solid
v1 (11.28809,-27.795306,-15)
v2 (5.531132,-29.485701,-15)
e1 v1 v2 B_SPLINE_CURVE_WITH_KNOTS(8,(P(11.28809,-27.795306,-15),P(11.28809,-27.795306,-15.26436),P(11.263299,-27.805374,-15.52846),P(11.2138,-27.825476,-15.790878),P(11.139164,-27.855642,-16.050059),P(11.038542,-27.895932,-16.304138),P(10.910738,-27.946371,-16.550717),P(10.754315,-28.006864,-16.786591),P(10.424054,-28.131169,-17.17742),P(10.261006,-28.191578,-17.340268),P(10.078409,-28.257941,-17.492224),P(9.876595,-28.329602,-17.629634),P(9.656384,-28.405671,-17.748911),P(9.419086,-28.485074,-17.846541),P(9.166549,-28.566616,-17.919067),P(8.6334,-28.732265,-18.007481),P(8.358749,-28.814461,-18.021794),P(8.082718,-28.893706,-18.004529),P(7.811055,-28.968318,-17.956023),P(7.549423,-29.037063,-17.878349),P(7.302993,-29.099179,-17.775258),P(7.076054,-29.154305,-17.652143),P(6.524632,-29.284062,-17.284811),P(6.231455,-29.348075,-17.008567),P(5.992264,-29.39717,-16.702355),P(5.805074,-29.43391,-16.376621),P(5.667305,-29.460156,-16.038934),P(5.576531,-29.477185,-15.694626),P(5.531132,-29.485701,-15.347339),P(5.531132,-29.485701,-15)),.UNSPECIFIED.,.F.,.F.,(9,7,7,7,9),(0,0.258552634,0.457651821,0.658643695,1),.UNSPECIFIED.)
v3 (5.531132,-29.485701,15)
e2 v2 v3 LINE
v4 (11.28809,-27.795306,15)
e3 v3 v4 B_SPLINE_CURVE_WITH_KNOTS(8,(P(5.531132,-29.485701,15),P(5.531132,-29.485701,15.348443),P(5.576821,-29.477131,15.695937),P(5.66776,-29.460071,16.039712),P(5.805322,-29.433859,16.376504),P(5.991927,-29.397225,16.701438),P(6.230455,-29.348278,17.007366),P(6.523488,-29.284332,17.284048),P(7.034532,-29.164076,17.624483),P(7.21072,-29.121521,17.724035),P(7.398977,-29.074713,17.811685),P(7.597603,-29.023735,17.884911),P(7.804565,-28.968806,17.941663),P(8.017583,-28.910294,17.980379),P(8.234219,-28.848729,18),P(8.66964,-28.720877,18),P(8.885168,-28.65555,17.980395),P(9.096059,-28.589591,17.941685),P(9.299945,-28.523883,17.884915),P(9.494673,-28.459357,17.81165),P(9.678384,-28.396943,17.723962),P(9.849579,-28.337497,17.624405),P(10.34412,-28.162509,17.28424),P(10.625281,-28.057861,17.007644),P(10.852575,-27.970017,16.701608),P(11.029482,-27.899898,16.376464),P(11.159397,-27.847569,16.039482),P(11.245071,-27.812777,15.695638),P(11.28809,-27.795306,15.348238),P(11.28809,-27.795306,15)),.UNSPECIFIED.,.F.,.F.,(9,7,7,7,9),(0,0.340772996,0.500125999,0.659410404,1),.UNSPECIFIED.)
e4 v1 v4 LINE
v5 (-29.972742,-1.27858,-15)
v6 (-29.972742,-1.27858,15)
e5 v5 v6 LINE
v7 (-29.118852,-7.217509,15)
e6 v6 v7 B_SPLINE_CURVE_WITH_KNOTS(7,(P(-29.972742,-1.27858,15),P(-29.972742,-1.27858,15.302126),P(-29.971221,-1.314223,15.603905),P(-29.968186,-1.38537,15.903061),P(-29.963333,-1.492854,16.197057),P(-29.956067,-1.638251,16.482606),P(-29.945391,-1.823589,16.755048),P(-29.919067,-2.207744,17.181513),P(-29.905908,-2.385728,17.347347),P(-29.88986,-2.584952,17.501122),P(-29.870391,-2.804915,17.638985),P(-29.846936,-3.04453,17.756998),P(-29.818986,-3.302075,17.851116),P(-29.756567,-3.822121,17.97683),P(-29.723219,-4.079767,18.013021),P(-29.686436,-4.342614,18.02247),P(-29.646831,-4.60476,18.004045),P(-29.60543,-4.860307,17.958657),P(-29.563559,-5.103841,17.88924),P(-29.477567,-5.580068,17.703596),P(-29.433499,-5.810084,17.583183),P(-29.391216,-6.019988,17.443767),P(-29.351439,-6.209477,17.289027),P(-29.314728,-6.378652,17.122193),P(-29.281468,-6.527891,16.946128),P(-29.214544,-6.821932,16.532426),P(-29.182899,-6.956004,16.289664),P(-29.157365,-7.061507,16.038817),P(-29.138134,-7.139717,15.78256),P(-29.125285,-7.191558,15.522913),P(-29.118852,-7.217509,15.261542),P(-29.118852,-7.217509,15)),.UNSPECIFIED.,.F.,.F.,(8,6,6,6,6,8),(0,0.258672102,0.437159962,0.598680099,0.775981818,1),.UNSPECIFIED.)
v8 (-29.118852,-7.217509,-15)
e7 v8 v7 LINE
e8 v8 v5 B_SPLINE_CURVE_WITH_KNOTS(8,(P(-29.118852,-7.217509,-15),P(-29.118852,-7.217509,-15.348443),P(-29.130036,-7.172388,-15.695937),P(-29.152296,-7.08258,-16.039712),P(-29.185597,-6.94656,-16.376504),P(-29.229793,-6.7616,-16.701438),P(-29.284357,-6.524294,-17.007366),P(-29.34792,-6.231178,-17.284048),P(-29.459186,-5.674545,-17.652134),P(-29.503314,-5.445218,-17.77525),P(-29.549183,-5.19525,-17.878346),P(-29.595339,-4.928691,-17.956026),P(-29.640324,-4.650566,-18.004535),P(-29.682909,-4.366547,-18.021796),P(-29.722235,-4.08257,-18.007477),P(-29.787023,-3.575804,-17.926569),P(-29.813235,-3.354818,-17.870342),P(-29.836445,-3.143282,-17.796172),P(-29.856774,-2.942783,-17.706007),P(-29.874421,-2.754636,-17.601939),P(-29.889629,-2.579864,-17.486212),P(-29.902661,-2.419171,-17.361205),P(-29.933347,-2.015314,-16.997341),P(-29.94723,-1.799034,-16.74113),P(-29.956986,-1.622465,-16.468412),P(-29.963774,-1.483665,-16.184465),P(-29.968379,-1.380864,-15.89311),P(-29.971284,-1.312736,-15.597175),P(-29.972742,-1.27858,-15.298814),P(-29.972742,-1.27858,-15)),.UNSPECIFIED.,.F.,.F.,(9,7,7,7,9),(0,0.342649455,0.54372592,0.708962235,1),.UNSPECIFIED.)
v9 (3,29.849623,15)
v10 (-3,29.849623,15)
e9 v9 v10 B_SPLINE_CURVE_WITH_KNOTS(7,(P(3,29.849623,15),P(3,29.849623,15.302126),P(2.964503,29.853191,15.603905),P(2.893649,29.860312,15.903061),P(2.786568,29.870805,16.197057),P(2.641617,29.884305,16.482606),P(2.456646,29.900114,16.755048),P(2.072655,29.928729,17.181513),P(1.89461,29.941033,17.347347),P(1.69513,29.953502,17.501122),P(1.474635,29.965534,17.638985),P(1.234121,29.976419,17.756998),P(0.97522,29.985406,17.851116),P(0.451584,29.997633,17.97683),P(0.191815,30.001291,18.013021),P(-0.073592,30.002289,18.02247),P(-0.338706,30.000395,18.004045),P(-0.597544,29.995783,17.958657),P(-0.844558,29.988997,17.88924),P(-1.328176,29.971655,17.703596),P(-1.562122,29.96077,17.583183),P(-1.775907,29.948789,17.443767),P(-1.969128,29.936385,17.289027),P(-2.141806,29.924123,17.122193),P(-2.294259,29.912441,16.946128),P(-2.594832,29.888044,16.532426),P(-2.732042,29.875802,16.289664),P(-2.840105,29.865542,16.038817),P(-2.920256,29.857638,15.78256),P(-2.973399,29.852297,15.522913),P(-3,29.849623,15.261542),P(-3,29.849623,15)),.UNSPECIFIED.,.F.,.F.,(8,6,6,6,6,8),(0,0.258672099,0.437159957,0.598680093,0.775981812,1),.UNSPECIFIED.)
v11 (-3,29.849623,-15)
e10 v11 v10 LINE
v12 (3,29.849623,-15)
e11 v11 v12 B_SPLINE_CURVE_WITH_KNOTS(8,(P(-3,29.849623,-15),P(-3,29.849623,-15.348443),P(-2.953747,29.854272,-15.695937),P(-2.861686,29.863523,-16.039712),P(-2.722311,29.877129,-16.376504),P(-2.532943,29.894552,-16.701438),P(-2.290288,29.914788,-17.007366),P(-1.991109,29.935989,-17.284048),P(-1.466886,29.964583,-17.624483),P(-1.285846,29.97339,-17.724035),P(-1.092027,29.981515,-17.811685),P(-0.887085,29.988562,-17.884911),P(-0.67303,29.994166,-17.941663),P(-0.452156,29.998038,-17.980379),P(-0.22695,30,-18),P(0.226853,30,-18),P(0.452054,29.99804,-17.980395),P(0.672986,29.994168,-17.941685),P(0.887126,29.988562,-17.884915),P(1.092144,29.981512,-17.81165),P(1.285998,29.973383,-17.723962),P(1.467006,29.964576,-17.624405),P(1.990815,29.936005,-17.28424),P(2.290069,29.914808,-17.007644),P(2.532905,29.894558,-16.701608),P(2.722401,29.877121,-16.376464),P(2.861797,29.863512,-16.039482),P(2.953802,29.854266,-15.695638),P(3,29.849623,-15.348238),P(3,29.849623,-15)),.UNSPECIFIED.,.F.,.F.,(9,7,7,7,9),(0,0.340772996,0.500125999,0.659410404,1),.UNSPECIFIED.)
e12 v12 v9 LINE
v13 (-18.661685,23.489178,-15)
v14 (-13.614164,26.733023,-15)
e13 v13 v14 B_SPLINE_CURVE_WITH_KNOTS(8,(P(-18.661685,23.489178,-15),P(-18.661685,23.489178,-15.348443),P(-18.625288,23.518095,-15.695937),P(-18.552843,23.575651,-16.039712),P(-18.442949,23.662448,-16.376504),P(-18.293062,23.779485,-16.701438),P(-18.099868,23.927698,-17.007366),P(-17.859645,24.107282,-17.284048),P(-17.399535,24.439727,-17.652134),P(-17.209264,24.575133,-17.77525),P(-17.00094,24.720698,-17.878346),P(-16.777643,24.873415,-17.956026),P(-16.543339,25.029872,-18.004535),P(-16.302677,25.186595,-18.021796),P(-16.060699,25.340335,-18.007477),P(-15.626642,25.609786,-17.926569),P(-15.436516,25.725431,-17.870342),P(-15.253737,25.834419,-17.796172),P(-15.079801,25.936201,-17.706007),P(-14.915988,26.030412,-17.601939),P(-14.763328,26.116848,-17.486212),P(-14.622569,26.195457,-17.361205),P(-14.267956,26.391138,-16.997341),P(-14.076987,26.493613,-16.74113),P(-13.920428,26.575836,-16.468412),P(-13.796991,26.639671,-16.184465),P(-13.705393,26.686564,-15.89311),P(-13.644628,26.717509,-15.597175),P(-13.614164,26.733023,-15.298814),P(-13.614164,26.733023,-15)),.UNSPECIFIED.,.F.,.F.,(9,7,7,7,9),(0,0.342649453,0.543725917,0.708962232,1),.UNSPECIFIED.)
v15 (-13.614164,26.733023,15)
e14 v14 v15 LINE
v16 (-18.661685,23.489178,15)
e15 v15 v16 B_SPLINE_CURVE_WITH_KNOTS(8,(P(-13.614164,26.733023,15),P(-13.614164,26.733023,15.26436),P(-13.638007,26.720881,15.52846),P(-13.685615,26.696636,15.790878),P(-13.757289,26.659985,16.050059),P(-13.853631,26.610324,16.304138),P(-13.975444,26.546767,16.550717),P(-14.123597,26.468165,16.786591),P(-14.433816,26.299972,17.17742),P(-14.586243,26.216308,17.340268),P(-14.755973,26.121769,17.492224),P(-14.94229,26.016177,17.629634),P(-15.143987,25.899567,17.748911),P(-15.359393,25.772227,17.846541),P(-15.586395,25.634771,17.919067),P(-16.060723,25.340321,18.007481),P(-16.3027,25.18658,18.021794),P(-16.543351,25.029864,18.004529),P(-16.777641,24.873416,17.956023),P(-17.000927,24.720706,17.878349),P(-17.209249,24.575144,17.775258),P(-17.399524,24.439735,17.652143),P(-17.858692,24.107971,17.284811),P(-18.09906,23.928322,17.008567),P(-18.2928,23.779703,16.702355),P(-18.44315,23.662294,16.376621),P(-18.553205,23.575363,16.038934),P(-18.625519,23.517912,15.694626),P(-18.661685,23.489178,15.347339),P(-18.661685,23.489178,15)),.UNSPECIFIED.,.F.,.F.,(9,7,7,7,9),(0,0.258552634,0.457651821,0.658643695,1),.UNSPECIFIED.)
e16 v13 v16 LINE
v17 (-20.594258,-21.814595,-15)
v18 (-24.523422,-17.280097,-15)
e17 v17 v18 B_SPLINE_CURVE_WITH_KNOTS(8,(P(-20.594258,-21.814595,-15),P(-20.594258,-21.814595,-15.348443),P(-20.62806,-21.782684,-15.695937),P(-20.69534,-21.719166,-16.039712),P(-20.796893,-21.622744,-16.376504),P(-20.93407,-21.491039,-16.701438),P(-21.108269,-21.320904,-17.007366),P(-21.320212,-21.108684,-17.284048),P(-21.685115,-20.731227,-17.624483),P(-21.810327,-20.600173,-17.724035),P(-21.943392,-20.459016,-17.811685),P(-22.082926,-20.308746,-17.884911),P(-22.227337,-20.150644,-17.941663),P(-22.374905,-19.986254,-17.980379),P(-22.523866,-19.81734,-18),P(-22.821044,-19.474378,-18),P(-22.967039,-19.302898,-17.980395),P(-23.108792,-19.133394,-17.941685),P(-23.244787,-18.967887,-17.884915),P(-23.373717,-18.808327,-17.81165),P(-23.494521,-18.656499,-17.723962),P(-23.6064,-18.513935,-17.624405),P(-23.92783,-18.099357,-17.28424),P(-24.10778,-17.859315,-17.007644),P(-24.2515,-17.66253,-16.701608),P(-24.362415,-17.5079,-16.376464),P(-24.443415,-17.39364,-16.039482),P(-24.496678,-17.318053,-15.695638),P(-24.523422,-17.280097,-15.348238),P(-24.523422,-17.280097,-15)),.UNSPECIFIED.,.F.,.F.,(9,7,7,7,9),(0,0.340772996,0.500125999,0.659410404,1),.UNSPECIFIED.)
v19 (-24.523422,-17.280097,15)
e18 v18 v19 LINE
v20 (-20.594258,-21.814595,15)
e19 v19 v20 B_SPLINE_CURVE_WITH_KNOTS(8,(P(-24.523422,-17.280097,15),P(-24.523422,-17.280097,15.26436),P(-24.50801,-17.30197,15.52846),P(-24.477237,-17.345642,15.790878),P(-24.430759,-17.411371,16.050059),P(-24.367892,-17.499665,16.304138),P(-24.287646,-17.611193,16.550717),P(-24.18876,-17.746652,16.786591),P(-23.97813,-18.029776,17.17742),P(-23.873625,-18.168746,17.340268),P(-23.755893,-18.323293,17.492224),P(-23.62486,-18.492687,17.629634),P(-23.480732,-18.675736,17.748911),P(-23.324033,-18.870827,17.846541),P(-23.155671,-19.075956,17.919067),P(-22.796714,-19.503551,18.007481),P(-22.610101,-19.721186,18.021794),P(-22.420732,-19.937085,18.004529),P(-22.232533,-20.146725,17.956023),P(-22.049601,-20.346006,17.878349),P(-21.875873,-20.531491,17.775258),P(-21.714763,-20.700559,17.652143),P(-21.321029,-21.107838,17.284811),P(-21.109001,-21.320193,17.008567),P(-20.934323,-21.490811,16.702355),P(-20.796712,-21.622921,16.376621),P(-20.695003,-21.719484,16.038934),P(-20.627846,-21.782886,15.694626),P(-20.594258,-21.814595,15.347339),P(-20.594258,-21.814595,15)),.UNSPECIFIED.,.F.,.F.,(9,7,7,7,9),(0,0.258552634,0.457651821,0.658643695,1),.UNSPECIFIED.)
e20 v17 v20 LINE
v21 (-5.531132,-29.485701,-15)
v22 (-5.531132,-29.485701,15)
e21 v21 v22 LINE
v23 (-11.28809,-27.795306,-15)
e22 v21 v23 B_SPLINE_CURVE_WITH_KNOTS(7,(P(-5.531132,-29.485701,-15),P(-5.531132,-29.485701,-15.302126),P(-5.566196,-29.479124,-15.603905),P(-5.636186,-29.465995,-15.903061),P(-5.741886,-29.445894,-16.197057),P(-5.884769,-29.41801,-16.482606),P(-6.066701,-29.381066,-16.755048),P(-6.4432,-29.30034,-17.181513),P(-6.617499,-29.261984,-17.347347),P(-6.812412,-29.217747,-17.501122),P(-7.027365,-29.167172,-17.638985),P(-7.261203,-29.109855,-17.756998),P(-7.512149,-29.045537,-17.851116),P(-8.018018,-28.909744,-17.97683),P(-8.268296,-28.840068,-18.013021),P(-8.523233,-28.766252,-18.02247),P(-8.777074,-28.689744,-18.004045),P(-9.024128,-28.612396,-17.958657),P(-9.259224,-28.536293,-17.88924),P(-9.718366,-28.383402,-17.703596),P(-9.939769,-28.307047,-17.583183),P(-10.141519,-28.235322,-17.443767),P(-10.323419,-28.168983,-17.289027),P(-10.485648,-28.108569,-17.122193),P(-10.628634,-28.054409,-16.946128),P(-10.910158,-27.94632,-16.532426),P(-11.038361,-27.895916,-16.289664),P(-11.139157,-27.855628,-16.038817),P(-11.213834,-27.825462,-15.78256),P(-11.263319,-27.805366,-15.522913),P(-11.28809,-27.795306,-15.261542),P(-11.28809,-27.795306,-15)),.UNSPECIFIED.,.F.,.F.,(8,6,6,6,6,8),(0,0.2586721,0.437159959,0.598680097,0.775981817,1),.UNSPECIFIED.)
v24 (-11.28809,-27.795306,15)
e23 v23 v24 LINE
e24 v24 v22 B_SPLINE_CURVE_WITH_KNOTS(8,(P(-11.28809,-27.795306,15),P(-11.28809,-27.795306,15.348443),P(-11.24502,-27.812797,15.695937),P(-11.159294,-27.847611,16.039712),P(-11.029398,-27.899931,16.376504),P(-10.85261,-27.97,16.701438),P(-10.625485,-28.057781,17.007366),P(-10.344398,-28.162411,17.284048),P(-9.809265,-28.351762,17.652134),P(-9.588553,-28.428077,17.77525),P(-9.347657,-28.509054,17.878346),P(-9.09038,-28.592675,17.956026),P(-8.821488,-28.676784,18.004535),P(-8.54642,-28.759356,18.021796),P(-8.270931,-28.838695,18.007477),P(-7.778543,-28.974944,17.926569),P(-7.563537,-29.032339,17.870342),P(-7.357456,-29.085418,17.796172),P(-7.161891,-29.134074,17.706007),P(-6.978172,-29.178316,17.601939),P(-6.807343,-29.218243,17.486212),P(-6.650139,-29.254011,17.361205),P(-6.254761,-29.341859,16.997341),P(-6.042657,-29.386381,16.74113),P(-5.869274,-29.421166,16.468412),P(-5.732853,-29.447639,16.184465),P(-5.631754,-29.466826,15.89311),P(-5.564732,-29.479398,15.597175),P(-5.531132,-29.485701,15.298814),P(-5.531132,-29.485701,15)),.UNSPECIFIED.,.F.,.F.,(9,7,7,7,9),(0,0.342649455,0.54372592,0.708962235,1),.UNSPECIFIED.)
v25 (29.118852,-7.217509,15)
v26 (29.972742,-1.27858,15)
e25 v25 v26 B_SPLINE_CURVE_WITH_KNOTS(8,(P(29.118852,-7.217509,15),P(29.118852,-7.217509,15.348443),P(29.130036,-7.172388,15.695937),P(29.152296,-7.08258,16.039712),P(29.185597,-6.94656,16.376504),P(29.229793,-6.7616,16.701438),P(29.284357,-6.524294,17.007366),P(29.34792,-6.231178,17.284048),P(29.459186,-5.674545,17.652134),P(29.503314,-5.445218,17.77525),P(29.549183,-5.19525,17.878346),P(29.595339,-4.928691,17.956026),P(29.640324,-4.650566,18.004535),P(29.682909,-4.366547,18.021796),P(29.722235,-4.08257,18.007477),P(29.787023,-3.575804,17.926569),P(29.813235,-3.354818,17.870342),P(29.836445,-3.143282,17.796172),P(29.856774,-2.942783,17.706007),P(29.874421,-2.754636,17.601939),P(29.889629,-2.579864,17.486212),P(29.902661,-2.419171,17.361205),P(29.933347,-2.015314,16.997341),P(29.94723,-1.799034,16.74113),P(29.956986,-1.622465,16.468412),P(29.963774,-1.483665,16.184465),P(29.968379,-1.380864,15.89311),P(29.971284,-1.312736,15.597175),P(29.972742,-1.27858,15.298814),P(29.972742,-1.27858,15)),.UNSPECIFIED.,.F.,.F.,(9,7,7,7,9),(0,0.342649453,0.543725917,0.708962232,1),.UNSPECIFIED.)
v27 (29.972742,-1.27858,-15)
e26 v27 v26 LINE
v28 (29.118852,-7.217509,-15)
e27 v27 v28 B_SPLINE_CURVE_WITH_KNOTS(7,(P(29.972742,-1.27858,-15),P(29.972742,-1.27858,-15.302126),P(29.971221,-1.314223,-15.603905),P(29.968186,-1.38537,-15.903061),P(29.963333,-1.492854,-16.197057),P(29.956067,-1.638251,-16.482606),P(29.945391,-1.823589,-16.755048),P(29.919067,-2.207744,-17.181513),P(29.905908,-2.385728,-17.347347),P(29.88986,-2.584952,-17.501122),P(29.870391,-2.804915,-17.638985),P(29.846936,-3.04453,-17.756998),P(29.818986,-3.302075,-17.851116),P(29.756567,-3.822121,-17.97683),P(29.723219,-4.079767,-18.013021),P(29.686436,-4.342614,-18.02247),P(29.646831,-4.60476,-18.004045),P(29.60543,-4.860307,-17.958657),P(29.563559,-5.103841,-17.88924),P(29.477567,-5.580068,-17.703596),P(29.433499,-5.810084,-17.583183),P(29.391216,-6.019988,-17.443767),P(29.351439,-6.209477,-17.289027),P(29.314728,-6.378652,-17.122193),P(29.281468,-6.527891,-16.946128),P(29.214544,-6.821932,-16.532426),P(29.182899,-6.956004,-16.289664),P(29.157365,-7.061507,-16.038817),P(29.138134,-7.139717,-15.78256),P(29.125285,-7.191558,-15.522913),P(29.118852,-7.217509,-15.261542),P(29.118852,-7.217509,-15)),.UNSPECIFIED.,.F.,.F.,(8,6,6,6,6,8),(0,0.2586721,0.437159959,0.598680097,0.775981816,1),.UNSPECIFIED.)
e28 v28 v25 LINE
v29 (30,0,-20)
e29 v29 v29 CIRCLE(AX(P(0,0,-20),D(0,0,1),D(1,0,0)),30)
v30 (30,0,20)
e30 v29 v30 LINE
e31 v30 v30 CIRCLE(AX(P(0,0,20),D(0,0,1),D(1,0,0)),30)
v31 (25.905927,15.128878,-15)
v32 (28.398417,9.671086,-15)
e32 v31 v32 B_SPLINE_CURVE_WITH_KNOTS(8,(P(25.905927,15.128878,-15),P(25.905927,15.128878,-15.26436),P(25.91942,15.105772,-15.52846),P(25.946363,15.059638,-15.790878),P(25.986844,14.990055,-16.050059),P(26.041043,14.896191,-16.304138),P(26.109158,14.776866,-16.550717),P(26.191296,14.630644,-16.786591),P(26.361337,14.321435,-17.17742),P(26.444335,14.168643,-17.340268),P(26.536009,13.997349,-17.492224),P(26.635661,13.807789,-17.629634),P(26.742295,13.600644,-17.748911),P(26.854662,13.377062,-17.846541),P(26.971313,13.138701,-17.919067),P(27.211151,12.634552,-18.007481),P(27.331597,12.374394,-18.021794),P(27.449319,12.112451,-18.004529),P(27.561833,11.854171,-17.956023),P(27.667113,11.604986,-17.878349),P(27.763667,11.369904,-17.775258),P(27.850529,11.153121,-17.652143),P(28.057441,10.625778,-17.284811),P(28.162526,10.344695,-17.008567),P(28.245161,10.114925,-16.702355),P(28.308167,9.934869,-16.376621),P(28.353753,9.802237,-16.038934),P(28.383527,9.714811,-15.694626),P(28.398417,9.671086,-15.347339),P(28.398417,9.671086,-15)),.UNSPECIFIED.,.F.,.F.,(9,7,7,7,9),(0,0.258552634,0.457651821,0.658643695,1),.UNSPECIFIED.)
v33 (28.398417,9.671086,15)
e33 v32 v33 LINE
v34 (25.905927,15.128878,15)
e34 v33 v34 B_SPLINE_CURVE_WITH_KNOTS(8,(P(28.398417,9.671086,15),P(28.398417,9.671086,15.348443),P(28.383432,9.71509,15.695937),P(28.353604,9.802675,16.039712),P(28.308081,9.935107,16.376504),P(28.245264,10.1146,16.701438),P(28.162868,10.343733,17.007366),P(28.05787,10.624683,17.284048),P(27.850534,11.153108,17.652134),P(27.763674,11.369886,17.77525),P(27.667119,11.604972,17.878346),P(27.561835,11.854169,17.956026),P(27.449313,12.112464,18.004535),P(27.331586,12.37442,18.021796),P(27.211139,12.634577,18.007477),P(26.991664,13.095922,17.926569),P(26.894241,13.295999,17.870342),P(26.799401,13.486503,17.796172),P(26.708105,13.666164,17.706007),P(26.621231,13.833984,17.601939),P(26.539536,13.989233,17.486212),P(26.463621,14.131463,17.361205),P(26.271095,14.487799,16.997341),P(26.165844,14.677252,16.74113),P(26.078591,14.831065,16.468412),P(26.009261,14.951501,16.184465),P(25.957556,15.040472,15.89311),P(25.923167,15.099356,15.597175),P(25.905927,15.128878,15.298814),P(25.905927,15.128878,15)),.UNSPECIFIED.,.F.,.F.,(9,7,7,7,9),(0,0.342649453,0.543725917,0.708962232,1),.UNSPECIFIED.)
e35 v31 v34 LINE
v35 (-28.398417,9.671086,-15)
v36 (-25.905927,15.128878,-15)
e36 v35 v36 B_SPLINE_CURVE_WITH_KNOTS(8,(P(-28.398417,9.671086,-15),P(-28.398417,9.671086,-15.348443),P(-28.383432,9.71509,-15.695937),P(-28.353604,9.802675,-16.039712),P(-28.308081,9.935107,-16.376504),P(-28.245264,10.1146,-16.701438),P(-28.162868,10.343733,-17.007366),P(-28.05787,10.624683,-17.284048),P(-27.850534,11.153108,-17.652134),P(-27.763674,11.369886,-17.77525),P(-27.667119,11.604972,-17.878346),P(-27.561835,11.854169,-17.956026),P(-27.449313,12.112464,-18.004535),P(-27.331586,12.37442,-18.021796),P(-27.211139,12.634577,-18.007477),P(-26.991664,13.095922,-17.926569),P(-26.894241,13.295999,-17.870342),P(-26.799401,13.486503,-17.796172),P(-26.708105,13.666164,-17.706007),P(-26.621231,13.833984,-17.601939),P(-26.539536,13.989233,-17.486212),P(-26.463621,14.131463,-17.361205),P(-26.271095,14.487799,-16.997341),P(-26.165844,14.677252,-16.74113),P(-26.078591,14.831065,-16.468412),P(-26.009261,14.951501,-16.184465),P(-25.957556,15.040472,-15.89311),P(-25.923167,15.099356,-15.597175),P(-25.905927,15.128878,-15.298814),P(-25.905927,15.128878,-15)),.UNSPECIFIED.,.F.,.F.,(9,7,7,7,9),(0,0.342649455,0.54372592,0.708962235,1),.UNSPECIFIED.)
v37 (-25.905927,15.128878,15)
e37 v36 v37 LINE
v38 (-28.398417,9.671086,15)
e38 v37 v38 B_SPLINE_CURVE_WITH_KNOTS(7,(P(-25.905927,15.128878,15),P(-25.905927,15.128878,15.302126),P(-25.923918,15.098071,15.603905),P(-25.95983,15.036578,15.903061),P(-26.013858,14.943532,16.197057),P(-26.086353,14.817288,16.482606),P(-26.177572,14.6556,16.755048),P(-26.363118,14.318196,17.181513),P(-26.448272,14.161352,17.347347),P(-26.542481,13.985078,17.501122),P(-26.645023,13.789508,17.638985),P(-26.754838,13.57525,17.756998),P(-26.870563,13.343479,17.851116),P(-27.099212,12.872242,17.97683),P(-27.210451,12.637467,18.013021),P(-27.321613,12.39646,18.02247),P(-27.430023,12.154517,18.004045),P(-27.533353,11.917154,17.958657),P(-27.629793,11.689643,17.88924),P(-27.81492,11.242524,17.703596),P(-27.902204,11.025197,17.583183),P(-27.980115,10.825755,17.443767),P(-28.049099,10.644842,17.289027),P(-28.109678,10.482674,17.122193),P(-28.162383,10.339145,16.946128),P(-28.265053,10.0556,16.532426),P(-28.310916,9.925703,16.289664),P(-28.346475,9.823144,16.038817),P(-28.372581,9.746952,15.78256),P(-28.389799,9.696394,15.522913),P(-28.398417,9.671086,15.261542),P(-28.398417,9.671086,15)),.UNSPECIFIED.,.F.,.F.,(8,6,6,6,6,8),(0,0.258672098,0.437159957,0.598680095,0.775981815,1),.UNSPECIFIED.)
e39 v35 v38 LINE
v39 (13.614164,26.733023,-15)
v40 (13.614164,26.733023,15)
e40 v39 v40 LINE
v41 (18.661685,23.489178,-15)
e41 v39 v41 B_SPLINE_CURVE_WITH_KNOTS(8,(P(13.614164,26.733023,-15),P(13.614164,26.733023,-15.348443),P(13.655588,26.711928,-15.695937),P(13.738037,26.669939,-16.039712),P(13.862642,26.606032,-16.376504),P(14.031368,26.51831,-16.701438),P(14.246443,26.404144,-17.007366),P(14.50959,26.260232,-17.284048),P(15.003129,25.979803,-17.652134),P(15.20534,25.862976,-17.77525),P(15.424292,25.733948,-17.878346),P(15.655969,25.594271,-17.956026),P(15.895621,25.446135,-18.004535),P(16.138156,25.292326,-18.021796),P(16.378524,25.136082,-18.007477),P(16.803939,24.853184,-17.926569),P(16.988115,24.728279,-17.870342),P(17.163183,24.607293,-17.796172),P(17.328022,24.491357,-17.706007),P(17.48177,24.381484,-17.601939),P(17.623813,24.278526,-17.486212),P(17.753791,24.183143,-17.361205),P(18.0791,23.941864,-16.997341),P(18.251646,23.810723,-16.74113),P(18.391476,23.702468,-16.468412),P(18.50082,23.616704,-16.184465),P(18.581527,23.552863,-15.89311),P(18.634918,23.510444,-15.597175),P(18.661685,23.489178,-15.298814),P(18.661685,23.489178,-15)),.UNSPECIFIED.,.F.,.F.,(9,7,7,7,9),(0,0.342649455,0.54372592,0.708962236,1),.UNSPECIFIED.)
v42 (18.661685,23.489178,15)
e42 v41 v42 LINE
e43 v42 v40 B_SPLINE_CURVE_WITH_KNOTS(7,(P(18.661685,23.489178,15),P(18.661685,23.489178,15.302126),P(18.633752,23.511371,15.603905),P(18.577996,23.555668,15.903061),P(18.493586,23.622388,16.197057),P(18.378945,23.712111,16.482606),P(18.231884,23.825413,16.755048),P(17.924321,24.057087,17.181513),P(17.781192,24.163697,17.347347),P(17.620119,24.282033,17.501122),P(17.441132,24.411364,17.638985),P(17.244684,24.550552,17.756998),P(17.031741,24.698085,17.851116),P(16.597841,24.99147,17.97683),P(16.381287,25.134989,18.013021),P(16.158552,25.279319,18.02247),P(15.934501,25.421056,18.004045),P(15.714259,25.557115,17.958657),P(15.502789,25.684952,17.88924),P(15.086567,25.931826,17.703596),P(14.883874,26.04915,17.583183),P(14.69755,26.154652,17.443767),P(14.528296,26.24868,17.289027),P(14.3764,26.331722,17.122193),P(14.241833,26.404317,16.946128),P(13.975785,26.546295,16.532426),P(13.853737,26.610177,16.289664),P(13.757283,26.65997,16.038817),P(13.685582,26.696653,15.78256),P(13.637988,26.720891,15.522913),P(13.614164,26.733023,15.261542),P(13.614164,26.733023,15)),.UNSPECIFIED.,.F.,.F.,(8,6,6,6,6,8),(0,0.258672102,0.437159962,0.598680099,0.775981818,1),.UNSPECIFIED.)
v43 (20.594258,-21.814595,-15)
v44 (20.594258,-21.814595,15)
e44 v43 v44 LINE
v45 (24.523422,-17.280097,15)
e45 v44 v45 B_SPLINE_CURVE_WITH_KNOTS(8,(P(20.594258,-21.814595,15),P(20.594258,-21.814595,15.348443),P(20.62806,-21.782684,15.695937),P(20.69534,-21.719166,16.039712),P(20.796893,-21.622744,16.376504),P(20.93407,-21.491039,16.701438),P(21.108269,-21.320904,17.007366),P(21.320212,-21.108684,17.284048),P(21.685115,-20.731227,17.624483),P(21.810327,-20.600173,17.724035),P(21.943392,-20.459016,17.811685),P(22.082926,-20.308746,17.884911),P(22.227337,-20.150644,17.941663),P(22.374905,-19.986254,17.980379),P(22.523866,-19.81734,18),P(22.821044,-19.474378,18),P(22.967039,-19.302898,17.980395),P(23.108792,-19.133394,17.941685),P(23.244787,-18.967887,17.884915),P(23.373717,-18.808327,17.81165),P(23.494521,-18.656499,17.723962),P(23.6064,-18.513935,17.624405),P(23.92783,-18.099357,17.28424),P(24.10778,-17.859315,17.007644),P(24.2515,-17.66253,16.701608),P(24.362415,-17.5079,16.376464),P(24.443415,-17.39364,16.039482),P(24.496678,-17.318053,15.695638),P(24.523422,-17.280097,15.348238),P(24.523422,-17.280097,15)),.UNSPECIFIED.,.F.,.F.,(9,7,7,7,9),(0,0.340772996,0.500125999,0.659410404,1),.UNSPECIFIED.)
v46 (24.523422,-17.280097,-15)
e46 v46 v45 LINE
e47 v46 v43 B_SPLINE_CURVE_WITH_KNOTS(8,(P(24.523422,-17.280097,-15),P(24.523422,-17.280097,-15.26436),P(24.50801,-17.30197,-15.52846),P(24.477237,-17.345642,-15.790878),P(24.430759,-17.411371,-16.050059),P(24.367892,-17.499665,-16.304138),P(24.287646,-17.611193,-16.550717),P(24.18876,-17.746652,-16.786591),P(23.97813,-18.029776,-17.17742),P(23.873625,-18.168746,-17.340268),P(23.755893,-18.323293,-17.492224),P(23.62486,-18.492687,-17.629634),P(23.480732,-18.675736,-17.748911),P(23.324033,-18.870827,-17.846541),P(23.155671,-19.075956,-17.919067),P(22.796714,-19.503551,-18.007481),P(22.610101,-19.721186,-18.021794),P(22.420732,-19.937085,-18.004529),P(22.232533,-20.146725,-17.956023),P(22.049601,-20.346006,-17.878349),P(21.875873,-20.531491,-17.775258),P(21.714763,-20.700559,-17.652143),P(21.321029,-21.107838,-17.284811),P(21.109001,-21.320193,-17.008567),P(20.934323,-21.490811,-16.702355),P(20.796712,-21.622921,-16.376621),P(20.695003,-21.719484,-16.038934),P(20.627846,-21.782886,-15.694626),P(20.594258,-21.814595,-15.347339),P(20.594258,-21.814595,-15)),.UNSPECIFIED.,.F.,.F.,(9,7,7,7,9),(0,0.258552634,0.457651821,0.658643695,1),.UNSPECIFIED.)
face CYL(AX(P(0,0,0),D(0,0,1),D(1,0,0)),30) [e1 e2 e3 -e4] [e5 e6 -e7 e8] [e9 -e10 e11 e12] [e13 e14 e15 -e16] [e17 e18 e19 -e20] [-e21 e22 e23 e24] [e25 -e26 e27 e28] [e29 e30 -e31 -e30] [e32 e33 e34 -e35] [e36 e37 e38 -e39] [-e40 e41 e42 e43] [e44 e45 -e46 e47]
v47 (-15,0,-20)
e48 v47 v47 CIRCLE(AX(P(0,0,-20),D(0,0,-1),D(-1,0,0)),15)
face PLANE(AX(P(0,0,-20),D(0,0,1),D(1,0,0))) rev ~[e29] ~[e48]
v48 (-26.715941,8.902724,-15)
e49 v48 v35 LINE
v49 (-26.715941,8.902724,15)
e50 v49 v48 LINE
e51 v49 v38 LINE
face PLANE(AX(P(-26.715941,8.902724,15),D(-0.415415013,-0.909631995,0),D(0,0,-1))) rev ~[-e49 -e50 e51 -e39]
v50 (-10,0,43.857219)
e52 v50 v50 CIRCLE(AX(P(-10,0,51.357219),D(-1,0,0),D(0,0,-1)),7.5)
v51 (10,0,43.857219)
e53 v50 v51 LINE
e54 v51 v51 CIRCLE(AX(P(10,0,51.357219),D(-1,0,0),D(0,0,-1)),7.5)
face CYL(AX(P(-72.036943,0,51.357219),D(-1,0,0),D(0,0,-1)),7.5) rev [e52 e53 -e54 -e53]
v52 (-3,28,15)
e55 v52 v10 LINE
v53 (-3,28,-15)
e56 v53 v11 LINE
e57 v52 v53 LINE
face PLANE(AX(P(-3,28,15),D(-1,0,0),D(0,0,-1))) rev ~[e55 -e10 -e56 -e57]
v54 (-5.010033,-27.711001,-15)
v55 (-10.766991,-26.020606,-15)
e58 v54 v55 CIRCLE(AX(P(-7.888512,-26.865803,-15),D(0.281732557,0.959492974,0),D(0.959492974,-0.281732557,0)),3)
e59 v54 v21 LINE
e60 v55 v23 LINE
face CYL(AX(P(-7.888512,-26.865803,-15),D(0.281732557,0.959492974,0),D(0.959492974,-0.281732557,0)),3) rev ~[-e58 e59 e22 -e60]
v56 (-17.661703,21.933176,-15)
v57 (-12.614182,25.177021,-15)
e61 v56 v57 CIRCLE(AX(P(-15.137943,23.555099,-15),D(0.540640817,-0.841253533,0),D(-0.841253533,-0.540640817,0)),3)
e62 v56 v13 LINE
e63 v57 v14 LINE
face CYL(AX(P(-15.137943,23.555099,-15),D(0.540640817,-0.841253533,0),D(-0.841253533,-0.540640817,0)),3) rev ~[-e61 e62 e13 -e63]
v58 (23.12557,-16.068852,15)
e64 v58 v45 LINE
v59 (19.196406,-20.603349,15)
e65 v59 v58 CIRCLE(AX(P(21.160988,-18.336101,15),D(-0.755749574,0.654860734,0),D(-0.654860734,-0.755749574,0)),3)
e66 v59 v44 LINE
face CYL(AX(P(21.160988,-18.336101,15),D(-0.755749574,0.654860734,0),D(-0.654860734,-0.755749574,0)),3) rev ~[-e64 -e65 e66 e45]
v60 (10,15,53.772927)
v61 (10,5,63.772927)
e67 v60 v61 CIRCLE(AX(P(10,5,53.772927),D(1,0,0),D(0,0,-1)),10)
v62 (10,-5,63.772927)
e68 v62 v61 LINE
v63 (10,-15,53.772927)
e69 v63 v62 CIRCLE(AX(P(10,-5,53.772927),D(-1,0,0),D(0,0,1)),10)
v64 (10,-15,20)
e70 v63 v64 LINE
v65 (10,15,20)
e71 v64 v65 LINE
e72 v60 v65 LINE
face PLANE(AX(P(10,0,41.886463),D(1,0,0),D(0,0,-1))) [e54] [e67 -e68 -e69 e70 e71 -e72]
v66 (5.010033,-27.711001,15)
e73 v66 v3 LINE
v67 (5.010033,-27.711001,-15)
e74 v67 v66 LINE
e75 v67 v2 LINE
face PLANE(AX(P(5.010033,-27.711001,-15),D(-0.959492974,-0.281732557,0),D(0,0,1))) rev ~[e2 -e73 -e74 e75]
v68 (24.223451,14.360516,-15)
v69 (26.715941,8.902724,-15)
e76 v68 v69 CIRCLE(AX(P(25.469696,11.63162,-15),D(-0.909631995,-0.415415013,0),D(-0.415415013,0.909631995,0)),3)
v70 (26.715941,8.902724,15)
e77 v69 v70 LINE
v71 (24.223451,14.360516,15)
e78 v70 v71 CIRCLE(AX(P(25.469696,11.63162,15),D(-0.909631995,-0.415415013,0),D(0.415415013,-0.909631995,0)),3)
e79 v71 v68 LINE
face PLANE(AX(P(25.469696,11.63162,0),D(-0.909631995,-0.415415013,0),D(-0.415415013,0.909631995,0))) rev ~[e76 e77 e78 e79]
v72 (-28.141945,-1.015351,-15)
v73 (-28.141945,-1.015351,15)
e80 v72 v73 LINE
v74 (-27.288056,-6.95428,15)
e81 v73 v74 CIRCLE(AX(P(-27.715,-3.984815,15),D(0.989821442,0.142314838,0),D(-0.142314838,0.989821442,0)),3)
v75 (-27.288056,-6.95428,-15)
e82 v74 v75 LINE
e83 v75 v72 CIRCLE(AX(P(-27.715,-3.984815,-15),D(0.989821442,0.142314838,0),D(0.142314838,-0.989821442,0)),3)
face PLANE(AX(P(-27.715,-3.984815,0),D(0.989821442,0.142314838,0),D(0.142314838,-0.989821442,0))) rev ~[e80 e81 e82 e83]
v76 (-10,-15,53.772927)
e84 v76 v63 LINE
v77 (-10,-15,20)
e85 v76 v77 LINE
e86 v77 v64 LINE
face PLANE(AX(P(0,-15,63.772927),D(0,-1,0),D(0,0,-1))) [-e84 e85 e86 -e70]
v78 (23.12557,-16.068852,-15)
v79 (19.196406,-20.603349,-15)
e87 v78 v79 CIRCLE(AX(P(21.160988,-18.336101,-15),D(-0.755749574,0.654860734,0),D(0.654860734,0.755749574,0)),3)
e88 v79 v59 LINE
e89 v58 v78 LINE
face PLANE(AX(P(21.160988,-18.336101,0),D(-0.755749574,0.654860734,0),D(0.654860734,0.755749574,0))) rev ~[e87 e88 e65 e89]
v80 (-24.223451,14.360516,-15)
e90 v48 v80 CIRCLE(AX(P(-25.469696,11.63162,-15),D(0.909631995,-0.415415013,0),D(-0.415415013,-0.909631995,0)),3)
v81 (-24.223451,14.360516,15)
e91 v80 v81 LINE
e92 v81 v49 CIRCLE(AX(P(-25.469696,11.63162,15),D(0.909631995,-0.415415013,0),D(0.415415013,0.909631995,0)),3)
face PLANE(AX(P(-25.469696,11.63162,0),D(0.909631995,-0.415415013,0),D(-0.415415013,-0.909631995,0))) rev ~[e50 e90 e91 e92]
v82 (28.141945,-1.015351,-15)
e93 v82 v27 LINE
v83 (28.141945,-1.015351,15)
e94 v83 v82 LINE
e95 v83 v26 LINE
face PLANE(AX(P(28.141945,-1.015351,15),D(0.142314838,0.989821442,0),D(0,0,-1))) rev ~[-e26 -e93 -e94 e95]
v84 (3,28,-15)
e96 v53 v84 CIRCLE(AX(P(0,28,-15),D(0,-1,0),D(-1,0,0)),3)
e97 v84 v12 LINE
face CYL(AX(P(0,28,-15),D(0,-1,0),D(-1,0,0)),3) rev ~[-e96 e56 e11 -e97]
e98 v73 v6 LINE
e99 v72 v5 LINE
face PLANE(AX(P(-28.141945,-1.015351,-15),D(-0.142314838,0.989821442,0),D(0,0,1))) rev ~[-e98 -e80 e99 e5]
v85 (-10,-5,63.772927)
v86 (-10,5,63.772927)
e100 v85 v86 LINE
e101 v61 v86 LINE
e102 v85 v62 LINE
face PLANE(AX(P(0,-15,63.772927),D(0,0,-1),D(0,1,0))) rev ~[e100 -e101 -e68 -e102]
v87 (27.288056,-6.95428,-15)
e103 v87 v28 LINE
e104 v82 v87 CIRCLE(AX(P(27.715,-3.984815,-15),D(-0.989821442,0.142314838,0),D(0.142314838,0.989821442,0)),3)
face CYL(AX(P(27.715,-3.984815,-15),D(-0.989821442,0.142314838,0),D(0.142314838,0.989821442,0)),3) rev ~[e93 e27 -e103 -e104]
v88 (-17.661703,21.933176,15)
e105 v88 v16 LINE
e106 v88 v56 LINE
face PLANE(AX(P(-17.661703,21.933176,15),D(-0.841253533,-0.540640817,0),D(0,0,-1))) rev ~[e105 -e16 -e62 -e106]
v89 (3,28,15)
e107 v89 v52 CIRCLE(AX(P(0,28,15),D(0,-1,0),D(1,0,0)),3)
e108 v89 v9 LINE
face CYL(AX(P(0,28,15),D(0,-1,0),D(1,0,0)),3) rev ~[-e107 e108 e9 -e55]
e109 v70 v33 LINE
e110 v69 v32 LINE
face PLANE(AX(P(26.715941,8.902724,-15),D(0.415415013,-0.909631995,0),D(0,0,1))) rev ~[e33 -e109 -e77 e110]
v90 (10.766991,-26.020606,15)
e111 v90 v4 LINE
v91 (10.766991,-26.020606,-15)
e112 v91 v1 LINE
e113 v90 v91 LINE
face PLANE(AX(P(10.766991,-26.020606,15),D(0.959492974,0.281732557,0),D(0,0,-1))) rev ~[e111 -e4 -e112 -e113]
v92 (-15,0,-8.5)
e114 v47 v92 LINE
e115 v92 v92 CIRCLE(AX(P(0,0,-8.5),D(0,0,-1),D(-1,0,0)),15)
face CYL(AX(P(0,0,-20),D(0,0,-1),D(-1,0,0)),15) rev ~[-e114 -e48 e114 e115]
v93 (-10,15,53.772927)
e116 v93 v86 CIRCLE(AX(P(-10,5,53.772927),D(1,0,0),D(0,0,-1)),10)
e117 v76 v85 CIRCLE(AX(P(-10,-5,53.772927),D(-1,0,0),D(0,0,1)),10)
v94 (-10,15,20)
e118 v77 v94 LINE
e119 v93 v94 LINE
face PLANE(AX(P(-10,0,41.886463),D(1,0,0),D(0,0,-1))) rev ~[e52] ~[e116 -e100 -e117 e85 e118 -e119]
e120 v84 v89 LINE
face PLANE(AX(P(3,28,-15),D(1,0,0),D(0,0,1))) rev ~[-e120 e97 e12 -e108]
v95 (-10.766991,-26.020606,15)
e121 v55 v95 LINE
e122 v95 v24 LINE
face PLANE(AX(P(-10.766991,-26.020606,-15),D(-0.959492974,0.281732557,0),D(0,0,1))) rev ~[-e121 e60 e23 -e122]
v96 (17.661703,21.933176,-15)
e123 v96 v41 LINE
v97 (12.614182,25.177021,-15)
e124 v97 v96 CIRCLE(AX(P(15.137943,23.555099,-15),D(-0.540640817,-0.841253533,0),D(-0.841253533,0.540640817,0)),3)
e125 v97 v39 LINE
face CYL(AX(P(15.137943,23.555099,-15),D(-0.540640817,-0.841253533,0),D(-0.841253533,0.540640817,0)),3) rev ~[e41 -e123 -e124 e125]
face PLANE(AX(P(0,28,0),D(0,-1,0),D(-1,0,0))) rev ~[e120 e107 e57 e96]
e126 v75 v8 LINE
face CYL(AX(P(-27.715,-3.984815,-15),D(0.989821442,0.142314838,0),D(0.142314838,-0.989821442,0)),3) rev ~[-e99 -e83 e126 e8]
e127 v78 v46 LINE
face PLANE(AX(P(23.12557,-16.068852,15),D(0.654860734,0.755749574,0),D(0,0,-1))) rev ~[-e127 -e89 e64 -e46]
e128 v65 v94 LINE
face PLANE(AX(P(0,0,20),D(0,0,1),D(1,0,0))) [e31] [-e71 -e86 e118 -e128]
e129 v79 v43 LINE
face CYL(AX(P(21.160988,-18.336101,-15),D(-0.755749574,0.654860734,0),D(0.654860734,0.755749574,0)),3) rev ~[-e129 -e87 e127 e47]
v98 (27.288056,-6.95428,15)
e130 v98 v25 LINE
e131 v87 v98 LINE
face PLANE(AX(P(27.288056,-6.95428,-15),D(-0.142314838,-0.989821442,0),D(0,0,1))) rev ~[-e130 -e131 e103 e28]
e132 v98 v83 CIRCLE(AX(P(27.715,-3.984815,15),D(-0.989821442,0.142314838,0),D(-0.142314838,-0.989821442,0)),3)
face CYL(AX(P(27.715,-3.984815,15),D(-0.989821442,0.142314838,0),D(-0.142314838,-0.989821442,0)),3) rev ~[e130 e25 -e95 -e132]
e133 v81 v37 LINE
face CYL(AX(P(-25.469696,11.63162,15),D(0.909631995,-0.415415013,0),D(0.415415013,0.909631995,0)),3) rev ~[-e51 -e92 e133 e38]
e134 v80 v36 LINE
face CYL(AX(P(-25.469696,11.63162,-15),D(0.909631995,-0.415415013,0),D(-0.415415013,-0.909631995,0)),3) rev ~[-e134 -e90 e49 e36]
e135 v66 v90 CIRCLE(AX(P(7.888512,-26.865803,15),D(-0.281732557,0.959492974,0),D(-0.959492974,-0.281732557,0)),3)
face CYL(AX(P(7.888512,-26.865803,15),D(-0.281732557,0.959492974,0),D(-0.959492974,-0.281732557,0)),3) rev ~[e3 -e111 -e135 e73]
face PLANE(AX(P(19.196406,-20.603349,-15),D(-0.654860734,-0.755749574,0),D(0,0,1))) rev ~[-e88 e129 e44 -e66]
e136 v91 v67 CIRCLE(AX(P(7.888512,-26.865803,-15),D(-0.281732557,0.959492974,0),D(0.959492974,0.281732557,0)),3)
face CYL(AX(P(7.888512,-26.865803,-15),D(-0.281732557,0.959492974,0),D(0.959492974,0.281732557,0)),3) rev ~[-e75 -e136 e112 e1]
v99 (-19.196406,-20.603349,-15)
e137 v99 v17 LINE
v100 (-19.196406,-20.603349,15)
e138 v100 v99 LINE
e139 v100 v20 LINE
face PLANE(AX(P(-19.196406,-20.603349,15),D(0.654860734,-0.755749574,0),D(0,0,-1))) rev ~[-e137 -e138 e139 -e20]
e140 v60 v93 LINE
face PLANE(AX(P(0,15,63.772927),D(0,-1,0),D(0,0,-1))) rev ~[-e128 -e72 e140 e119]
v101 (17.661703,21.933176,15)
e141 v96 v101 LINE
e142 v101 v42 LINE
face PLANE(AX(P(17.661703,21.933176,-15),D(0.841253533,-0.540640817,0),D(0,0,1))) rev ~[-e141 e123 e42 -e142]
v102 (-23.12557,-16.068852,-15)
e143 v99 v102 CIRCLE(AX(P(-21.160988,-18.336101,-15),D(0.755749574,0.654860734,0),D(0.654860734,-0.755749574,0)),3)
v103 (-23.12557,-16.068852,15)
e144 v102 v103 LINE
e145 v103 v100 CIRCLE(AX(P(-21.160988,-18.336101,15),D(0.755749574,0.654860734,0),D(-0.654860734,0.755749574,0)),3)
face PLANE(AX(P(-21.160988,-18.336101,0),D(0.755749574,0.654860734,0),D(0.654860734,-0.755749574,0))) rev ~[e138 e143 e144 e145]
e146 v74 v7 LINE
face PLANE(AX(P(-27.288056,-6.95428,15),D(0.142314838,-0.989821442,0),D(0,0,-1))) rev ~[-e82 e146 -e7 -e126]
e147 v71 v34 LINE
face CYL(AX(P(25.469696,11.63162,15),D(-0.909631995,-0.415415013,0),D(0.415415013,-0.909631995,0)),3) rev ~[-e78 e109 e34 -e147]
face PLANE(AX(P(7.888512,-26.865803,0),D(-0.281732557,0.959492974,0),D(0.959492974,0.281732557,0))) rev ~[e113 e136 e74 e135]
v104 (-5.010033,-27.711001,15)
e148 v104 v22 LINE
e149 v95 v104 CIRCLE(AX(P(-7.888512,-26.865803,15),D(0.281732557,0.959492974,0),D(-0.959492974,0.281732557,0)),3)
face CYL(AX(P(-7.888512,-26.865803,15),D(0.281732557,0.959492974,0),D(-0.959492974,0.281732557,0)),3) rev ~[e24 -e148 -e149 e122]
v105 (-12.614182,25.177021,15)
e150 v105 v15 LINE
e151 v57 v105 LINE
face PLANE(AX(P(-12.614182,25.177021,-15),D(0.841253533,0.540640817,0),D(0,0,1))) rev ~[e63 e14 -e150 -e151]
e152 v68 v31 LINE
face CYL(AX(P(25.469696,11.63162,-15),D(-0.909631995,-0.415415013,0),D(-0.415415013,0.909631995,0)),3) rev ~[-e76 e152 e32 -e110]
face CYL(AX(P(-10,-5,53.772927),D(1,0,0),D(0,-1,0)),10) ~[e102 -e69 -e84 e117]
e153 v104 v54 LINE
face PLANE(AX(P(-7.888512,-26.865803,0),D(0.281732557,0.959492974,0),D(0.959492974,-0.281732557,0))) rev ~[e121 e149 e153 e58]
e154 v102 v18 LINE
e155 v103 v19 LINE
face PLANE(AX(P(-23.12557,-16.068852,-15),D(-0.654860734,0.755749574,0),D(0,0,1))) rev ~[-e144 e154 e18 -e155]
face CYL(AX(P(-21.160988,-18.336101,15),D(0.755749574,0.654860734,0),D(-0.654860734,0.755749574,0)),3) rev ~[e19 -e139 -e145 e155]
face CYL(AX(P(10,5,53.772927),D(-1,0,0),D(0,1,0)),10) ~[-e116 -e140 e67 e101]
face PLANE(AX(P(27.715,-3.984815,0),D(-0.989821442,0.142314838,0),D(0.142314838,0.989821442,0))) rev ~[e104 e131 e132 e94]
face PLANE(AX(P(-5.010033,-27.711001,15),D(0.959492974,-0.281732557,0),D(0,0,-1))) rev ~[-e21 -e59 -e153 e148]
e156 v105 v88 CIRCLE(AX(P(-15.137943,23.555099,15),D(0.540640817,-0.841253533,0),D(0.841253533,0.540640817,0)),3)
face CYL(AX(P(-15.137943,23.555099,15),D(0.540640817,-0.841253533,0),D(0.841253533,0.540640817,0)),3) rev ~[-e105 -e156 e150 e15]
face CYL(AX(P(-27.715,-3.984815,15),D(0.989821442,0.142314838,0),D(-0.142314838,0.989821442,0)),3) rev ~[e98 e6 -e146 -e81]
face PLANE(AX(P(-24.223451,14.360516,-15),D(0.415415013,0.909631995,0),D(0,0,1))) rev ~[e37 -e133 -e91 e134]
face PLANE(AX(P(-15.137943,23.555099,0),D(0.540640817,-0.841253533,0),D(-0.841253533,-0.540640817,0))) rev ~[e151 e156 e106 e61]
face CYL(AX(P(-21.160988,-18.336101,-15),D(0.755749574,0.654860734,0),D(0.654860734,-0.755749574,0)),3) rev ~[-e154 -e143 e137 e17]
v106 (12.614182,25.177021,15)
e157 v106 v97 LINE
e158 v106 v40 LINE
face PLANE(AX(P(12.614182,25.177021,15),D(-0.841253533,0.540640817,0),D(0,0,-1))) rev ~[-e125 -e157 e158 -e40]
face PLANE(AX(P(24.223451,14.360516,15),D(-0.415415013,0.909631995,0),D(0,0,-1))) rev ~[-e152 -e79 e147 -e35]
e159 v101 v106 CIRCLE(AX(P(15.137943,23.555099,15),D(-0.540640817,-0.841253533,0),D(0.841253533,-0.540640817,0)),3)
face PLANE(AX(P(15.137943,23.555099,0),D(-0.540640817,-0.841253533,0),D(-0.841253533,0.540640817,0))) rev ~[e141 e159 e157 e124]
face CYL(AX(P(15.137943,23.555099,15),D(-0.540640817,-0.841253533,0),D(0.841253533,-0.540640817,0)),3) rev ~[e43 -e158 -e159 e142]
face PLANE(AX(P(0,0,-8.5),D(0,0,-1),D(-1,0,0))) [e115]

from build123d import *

# Parameters (mm, degrees)
SKETCH1_R               = 30
BOSS_EXTRUDE1_DEPTH     = 20
SKETCH2_W               = 43.772926879
SKETCH2_H               = 30
BOSS_EXTRUDE2_DEPTH     = 10
FILLET1_R               = 10
CUT_EXTRUDE1_DEPTH      = 82.036943444
CUT_EXTRUDE1_DEPTH_BACK = 82.036943444
SKETCH3_R               = 7.5
CUT_EXTRUDE2_START      = 28
CUT_EXTRUDE2_DEPTH      = 20
CIRPATTERN1_COUNT       = 11
SKETCH5_R               = 15
CUT_EXTRUDE3_DEPTH      = 11.5


with BuildPart() as part:
    # Sketch1 → Boss-Extrude1 (new, symmetric)
    with BuildSketch(Plane.XY):
        Circle(SKETCH1_R)
    extrude(amount=BOSS_EXTRUDE1_DEPTH, both=True)

    # Sketch2 → Boss-Extrude2 (add, symmetric)
    with BuildSketch(Plane(origin=(0, 0, 0), x_dir=(0, 0, -1), z_dir=(1, 0, 0))):
        with Locations((-41.88646344, 0)):
            Rectangle(SKETCH2_W, SKETCH2_H)
    extrude(amount=BOSS_EXTRUDE2_DEPTH, both=True)

    # Fillet1
    fillet1_edges = [part.edges().sort_by_distance(p)[0] for p in [
        (0, 15, 63.772926879),
        (0, -15, 63.772926879),
    ]]
    fillet(fillet1_edges, radius=FILLET1_R)

    # Sketch3 → Cut-Extrude1 (cut, two sides: drawn at the far end of the back side and taken through both)
    with BuildSketch(Plane(origin=(10, 0, 0), x_dir=(0, 0, -1), z_dir=(1, 0, 0)).offset(-CUT_EXTRUDE1_DEPTH_BACK)):
        with Locations((-51.35721853, 0)):
            Circle(SKETCH3_R)
    extrude(amount=CUT_EXTRUDE1_DEPTH + CUT_EXTRUDE1_DEPTH_BACK, mode=Mode.SUBTRACT)

    # Sketch4 → Cut-Extrude2 (cut)
    with BuildSketch(Plane(origin=(0, 0, 0), x_dir=(1, 0, 0), z_dir=(0, 1, 0)).offset(CUT_EXTRUDE2_START)):
        with BuildLine():
            Line((3, 15), (3, -15))
            ThreePointArc((3, -15), (0, -18), (-3, -15))
            Line((-3, -15), (-3, 15))
            ThreePointArc((-3, 15), (0, 18), (3, 15))
        make_face()
    cut_extrude2 = extrude(amount=CUT_EXTRUDE2_DEPTH, mode=Mode.SUBTRACT)

    # CirPattern1: Cut-Extrude2 ×11 about axis
    cirpattern1_axis = Axis((0, 0, 0), (0, 0, 1))
    for i in range(1, CIRPATTERN1_COUNT):
        add(cut_extrude2.rotate(cirpattern1_axis, i * 360 / CIRPATTERN1_COUNT), mode=Mode.SUBTRACT)

    # Sketch5 → Cut-Extrude3 (cut)
    with BuildSketch(Plane(origin=(0, 0, -20), x_dir=(-1, 0, 0), z_dir=(0, 0, -1))):
        Circle(SKETCH5_R)
    extrude(amount=-CUT_EXTRUDE3_DEPTH, mode=Mode.SUBTRACT)


solid = part.part
